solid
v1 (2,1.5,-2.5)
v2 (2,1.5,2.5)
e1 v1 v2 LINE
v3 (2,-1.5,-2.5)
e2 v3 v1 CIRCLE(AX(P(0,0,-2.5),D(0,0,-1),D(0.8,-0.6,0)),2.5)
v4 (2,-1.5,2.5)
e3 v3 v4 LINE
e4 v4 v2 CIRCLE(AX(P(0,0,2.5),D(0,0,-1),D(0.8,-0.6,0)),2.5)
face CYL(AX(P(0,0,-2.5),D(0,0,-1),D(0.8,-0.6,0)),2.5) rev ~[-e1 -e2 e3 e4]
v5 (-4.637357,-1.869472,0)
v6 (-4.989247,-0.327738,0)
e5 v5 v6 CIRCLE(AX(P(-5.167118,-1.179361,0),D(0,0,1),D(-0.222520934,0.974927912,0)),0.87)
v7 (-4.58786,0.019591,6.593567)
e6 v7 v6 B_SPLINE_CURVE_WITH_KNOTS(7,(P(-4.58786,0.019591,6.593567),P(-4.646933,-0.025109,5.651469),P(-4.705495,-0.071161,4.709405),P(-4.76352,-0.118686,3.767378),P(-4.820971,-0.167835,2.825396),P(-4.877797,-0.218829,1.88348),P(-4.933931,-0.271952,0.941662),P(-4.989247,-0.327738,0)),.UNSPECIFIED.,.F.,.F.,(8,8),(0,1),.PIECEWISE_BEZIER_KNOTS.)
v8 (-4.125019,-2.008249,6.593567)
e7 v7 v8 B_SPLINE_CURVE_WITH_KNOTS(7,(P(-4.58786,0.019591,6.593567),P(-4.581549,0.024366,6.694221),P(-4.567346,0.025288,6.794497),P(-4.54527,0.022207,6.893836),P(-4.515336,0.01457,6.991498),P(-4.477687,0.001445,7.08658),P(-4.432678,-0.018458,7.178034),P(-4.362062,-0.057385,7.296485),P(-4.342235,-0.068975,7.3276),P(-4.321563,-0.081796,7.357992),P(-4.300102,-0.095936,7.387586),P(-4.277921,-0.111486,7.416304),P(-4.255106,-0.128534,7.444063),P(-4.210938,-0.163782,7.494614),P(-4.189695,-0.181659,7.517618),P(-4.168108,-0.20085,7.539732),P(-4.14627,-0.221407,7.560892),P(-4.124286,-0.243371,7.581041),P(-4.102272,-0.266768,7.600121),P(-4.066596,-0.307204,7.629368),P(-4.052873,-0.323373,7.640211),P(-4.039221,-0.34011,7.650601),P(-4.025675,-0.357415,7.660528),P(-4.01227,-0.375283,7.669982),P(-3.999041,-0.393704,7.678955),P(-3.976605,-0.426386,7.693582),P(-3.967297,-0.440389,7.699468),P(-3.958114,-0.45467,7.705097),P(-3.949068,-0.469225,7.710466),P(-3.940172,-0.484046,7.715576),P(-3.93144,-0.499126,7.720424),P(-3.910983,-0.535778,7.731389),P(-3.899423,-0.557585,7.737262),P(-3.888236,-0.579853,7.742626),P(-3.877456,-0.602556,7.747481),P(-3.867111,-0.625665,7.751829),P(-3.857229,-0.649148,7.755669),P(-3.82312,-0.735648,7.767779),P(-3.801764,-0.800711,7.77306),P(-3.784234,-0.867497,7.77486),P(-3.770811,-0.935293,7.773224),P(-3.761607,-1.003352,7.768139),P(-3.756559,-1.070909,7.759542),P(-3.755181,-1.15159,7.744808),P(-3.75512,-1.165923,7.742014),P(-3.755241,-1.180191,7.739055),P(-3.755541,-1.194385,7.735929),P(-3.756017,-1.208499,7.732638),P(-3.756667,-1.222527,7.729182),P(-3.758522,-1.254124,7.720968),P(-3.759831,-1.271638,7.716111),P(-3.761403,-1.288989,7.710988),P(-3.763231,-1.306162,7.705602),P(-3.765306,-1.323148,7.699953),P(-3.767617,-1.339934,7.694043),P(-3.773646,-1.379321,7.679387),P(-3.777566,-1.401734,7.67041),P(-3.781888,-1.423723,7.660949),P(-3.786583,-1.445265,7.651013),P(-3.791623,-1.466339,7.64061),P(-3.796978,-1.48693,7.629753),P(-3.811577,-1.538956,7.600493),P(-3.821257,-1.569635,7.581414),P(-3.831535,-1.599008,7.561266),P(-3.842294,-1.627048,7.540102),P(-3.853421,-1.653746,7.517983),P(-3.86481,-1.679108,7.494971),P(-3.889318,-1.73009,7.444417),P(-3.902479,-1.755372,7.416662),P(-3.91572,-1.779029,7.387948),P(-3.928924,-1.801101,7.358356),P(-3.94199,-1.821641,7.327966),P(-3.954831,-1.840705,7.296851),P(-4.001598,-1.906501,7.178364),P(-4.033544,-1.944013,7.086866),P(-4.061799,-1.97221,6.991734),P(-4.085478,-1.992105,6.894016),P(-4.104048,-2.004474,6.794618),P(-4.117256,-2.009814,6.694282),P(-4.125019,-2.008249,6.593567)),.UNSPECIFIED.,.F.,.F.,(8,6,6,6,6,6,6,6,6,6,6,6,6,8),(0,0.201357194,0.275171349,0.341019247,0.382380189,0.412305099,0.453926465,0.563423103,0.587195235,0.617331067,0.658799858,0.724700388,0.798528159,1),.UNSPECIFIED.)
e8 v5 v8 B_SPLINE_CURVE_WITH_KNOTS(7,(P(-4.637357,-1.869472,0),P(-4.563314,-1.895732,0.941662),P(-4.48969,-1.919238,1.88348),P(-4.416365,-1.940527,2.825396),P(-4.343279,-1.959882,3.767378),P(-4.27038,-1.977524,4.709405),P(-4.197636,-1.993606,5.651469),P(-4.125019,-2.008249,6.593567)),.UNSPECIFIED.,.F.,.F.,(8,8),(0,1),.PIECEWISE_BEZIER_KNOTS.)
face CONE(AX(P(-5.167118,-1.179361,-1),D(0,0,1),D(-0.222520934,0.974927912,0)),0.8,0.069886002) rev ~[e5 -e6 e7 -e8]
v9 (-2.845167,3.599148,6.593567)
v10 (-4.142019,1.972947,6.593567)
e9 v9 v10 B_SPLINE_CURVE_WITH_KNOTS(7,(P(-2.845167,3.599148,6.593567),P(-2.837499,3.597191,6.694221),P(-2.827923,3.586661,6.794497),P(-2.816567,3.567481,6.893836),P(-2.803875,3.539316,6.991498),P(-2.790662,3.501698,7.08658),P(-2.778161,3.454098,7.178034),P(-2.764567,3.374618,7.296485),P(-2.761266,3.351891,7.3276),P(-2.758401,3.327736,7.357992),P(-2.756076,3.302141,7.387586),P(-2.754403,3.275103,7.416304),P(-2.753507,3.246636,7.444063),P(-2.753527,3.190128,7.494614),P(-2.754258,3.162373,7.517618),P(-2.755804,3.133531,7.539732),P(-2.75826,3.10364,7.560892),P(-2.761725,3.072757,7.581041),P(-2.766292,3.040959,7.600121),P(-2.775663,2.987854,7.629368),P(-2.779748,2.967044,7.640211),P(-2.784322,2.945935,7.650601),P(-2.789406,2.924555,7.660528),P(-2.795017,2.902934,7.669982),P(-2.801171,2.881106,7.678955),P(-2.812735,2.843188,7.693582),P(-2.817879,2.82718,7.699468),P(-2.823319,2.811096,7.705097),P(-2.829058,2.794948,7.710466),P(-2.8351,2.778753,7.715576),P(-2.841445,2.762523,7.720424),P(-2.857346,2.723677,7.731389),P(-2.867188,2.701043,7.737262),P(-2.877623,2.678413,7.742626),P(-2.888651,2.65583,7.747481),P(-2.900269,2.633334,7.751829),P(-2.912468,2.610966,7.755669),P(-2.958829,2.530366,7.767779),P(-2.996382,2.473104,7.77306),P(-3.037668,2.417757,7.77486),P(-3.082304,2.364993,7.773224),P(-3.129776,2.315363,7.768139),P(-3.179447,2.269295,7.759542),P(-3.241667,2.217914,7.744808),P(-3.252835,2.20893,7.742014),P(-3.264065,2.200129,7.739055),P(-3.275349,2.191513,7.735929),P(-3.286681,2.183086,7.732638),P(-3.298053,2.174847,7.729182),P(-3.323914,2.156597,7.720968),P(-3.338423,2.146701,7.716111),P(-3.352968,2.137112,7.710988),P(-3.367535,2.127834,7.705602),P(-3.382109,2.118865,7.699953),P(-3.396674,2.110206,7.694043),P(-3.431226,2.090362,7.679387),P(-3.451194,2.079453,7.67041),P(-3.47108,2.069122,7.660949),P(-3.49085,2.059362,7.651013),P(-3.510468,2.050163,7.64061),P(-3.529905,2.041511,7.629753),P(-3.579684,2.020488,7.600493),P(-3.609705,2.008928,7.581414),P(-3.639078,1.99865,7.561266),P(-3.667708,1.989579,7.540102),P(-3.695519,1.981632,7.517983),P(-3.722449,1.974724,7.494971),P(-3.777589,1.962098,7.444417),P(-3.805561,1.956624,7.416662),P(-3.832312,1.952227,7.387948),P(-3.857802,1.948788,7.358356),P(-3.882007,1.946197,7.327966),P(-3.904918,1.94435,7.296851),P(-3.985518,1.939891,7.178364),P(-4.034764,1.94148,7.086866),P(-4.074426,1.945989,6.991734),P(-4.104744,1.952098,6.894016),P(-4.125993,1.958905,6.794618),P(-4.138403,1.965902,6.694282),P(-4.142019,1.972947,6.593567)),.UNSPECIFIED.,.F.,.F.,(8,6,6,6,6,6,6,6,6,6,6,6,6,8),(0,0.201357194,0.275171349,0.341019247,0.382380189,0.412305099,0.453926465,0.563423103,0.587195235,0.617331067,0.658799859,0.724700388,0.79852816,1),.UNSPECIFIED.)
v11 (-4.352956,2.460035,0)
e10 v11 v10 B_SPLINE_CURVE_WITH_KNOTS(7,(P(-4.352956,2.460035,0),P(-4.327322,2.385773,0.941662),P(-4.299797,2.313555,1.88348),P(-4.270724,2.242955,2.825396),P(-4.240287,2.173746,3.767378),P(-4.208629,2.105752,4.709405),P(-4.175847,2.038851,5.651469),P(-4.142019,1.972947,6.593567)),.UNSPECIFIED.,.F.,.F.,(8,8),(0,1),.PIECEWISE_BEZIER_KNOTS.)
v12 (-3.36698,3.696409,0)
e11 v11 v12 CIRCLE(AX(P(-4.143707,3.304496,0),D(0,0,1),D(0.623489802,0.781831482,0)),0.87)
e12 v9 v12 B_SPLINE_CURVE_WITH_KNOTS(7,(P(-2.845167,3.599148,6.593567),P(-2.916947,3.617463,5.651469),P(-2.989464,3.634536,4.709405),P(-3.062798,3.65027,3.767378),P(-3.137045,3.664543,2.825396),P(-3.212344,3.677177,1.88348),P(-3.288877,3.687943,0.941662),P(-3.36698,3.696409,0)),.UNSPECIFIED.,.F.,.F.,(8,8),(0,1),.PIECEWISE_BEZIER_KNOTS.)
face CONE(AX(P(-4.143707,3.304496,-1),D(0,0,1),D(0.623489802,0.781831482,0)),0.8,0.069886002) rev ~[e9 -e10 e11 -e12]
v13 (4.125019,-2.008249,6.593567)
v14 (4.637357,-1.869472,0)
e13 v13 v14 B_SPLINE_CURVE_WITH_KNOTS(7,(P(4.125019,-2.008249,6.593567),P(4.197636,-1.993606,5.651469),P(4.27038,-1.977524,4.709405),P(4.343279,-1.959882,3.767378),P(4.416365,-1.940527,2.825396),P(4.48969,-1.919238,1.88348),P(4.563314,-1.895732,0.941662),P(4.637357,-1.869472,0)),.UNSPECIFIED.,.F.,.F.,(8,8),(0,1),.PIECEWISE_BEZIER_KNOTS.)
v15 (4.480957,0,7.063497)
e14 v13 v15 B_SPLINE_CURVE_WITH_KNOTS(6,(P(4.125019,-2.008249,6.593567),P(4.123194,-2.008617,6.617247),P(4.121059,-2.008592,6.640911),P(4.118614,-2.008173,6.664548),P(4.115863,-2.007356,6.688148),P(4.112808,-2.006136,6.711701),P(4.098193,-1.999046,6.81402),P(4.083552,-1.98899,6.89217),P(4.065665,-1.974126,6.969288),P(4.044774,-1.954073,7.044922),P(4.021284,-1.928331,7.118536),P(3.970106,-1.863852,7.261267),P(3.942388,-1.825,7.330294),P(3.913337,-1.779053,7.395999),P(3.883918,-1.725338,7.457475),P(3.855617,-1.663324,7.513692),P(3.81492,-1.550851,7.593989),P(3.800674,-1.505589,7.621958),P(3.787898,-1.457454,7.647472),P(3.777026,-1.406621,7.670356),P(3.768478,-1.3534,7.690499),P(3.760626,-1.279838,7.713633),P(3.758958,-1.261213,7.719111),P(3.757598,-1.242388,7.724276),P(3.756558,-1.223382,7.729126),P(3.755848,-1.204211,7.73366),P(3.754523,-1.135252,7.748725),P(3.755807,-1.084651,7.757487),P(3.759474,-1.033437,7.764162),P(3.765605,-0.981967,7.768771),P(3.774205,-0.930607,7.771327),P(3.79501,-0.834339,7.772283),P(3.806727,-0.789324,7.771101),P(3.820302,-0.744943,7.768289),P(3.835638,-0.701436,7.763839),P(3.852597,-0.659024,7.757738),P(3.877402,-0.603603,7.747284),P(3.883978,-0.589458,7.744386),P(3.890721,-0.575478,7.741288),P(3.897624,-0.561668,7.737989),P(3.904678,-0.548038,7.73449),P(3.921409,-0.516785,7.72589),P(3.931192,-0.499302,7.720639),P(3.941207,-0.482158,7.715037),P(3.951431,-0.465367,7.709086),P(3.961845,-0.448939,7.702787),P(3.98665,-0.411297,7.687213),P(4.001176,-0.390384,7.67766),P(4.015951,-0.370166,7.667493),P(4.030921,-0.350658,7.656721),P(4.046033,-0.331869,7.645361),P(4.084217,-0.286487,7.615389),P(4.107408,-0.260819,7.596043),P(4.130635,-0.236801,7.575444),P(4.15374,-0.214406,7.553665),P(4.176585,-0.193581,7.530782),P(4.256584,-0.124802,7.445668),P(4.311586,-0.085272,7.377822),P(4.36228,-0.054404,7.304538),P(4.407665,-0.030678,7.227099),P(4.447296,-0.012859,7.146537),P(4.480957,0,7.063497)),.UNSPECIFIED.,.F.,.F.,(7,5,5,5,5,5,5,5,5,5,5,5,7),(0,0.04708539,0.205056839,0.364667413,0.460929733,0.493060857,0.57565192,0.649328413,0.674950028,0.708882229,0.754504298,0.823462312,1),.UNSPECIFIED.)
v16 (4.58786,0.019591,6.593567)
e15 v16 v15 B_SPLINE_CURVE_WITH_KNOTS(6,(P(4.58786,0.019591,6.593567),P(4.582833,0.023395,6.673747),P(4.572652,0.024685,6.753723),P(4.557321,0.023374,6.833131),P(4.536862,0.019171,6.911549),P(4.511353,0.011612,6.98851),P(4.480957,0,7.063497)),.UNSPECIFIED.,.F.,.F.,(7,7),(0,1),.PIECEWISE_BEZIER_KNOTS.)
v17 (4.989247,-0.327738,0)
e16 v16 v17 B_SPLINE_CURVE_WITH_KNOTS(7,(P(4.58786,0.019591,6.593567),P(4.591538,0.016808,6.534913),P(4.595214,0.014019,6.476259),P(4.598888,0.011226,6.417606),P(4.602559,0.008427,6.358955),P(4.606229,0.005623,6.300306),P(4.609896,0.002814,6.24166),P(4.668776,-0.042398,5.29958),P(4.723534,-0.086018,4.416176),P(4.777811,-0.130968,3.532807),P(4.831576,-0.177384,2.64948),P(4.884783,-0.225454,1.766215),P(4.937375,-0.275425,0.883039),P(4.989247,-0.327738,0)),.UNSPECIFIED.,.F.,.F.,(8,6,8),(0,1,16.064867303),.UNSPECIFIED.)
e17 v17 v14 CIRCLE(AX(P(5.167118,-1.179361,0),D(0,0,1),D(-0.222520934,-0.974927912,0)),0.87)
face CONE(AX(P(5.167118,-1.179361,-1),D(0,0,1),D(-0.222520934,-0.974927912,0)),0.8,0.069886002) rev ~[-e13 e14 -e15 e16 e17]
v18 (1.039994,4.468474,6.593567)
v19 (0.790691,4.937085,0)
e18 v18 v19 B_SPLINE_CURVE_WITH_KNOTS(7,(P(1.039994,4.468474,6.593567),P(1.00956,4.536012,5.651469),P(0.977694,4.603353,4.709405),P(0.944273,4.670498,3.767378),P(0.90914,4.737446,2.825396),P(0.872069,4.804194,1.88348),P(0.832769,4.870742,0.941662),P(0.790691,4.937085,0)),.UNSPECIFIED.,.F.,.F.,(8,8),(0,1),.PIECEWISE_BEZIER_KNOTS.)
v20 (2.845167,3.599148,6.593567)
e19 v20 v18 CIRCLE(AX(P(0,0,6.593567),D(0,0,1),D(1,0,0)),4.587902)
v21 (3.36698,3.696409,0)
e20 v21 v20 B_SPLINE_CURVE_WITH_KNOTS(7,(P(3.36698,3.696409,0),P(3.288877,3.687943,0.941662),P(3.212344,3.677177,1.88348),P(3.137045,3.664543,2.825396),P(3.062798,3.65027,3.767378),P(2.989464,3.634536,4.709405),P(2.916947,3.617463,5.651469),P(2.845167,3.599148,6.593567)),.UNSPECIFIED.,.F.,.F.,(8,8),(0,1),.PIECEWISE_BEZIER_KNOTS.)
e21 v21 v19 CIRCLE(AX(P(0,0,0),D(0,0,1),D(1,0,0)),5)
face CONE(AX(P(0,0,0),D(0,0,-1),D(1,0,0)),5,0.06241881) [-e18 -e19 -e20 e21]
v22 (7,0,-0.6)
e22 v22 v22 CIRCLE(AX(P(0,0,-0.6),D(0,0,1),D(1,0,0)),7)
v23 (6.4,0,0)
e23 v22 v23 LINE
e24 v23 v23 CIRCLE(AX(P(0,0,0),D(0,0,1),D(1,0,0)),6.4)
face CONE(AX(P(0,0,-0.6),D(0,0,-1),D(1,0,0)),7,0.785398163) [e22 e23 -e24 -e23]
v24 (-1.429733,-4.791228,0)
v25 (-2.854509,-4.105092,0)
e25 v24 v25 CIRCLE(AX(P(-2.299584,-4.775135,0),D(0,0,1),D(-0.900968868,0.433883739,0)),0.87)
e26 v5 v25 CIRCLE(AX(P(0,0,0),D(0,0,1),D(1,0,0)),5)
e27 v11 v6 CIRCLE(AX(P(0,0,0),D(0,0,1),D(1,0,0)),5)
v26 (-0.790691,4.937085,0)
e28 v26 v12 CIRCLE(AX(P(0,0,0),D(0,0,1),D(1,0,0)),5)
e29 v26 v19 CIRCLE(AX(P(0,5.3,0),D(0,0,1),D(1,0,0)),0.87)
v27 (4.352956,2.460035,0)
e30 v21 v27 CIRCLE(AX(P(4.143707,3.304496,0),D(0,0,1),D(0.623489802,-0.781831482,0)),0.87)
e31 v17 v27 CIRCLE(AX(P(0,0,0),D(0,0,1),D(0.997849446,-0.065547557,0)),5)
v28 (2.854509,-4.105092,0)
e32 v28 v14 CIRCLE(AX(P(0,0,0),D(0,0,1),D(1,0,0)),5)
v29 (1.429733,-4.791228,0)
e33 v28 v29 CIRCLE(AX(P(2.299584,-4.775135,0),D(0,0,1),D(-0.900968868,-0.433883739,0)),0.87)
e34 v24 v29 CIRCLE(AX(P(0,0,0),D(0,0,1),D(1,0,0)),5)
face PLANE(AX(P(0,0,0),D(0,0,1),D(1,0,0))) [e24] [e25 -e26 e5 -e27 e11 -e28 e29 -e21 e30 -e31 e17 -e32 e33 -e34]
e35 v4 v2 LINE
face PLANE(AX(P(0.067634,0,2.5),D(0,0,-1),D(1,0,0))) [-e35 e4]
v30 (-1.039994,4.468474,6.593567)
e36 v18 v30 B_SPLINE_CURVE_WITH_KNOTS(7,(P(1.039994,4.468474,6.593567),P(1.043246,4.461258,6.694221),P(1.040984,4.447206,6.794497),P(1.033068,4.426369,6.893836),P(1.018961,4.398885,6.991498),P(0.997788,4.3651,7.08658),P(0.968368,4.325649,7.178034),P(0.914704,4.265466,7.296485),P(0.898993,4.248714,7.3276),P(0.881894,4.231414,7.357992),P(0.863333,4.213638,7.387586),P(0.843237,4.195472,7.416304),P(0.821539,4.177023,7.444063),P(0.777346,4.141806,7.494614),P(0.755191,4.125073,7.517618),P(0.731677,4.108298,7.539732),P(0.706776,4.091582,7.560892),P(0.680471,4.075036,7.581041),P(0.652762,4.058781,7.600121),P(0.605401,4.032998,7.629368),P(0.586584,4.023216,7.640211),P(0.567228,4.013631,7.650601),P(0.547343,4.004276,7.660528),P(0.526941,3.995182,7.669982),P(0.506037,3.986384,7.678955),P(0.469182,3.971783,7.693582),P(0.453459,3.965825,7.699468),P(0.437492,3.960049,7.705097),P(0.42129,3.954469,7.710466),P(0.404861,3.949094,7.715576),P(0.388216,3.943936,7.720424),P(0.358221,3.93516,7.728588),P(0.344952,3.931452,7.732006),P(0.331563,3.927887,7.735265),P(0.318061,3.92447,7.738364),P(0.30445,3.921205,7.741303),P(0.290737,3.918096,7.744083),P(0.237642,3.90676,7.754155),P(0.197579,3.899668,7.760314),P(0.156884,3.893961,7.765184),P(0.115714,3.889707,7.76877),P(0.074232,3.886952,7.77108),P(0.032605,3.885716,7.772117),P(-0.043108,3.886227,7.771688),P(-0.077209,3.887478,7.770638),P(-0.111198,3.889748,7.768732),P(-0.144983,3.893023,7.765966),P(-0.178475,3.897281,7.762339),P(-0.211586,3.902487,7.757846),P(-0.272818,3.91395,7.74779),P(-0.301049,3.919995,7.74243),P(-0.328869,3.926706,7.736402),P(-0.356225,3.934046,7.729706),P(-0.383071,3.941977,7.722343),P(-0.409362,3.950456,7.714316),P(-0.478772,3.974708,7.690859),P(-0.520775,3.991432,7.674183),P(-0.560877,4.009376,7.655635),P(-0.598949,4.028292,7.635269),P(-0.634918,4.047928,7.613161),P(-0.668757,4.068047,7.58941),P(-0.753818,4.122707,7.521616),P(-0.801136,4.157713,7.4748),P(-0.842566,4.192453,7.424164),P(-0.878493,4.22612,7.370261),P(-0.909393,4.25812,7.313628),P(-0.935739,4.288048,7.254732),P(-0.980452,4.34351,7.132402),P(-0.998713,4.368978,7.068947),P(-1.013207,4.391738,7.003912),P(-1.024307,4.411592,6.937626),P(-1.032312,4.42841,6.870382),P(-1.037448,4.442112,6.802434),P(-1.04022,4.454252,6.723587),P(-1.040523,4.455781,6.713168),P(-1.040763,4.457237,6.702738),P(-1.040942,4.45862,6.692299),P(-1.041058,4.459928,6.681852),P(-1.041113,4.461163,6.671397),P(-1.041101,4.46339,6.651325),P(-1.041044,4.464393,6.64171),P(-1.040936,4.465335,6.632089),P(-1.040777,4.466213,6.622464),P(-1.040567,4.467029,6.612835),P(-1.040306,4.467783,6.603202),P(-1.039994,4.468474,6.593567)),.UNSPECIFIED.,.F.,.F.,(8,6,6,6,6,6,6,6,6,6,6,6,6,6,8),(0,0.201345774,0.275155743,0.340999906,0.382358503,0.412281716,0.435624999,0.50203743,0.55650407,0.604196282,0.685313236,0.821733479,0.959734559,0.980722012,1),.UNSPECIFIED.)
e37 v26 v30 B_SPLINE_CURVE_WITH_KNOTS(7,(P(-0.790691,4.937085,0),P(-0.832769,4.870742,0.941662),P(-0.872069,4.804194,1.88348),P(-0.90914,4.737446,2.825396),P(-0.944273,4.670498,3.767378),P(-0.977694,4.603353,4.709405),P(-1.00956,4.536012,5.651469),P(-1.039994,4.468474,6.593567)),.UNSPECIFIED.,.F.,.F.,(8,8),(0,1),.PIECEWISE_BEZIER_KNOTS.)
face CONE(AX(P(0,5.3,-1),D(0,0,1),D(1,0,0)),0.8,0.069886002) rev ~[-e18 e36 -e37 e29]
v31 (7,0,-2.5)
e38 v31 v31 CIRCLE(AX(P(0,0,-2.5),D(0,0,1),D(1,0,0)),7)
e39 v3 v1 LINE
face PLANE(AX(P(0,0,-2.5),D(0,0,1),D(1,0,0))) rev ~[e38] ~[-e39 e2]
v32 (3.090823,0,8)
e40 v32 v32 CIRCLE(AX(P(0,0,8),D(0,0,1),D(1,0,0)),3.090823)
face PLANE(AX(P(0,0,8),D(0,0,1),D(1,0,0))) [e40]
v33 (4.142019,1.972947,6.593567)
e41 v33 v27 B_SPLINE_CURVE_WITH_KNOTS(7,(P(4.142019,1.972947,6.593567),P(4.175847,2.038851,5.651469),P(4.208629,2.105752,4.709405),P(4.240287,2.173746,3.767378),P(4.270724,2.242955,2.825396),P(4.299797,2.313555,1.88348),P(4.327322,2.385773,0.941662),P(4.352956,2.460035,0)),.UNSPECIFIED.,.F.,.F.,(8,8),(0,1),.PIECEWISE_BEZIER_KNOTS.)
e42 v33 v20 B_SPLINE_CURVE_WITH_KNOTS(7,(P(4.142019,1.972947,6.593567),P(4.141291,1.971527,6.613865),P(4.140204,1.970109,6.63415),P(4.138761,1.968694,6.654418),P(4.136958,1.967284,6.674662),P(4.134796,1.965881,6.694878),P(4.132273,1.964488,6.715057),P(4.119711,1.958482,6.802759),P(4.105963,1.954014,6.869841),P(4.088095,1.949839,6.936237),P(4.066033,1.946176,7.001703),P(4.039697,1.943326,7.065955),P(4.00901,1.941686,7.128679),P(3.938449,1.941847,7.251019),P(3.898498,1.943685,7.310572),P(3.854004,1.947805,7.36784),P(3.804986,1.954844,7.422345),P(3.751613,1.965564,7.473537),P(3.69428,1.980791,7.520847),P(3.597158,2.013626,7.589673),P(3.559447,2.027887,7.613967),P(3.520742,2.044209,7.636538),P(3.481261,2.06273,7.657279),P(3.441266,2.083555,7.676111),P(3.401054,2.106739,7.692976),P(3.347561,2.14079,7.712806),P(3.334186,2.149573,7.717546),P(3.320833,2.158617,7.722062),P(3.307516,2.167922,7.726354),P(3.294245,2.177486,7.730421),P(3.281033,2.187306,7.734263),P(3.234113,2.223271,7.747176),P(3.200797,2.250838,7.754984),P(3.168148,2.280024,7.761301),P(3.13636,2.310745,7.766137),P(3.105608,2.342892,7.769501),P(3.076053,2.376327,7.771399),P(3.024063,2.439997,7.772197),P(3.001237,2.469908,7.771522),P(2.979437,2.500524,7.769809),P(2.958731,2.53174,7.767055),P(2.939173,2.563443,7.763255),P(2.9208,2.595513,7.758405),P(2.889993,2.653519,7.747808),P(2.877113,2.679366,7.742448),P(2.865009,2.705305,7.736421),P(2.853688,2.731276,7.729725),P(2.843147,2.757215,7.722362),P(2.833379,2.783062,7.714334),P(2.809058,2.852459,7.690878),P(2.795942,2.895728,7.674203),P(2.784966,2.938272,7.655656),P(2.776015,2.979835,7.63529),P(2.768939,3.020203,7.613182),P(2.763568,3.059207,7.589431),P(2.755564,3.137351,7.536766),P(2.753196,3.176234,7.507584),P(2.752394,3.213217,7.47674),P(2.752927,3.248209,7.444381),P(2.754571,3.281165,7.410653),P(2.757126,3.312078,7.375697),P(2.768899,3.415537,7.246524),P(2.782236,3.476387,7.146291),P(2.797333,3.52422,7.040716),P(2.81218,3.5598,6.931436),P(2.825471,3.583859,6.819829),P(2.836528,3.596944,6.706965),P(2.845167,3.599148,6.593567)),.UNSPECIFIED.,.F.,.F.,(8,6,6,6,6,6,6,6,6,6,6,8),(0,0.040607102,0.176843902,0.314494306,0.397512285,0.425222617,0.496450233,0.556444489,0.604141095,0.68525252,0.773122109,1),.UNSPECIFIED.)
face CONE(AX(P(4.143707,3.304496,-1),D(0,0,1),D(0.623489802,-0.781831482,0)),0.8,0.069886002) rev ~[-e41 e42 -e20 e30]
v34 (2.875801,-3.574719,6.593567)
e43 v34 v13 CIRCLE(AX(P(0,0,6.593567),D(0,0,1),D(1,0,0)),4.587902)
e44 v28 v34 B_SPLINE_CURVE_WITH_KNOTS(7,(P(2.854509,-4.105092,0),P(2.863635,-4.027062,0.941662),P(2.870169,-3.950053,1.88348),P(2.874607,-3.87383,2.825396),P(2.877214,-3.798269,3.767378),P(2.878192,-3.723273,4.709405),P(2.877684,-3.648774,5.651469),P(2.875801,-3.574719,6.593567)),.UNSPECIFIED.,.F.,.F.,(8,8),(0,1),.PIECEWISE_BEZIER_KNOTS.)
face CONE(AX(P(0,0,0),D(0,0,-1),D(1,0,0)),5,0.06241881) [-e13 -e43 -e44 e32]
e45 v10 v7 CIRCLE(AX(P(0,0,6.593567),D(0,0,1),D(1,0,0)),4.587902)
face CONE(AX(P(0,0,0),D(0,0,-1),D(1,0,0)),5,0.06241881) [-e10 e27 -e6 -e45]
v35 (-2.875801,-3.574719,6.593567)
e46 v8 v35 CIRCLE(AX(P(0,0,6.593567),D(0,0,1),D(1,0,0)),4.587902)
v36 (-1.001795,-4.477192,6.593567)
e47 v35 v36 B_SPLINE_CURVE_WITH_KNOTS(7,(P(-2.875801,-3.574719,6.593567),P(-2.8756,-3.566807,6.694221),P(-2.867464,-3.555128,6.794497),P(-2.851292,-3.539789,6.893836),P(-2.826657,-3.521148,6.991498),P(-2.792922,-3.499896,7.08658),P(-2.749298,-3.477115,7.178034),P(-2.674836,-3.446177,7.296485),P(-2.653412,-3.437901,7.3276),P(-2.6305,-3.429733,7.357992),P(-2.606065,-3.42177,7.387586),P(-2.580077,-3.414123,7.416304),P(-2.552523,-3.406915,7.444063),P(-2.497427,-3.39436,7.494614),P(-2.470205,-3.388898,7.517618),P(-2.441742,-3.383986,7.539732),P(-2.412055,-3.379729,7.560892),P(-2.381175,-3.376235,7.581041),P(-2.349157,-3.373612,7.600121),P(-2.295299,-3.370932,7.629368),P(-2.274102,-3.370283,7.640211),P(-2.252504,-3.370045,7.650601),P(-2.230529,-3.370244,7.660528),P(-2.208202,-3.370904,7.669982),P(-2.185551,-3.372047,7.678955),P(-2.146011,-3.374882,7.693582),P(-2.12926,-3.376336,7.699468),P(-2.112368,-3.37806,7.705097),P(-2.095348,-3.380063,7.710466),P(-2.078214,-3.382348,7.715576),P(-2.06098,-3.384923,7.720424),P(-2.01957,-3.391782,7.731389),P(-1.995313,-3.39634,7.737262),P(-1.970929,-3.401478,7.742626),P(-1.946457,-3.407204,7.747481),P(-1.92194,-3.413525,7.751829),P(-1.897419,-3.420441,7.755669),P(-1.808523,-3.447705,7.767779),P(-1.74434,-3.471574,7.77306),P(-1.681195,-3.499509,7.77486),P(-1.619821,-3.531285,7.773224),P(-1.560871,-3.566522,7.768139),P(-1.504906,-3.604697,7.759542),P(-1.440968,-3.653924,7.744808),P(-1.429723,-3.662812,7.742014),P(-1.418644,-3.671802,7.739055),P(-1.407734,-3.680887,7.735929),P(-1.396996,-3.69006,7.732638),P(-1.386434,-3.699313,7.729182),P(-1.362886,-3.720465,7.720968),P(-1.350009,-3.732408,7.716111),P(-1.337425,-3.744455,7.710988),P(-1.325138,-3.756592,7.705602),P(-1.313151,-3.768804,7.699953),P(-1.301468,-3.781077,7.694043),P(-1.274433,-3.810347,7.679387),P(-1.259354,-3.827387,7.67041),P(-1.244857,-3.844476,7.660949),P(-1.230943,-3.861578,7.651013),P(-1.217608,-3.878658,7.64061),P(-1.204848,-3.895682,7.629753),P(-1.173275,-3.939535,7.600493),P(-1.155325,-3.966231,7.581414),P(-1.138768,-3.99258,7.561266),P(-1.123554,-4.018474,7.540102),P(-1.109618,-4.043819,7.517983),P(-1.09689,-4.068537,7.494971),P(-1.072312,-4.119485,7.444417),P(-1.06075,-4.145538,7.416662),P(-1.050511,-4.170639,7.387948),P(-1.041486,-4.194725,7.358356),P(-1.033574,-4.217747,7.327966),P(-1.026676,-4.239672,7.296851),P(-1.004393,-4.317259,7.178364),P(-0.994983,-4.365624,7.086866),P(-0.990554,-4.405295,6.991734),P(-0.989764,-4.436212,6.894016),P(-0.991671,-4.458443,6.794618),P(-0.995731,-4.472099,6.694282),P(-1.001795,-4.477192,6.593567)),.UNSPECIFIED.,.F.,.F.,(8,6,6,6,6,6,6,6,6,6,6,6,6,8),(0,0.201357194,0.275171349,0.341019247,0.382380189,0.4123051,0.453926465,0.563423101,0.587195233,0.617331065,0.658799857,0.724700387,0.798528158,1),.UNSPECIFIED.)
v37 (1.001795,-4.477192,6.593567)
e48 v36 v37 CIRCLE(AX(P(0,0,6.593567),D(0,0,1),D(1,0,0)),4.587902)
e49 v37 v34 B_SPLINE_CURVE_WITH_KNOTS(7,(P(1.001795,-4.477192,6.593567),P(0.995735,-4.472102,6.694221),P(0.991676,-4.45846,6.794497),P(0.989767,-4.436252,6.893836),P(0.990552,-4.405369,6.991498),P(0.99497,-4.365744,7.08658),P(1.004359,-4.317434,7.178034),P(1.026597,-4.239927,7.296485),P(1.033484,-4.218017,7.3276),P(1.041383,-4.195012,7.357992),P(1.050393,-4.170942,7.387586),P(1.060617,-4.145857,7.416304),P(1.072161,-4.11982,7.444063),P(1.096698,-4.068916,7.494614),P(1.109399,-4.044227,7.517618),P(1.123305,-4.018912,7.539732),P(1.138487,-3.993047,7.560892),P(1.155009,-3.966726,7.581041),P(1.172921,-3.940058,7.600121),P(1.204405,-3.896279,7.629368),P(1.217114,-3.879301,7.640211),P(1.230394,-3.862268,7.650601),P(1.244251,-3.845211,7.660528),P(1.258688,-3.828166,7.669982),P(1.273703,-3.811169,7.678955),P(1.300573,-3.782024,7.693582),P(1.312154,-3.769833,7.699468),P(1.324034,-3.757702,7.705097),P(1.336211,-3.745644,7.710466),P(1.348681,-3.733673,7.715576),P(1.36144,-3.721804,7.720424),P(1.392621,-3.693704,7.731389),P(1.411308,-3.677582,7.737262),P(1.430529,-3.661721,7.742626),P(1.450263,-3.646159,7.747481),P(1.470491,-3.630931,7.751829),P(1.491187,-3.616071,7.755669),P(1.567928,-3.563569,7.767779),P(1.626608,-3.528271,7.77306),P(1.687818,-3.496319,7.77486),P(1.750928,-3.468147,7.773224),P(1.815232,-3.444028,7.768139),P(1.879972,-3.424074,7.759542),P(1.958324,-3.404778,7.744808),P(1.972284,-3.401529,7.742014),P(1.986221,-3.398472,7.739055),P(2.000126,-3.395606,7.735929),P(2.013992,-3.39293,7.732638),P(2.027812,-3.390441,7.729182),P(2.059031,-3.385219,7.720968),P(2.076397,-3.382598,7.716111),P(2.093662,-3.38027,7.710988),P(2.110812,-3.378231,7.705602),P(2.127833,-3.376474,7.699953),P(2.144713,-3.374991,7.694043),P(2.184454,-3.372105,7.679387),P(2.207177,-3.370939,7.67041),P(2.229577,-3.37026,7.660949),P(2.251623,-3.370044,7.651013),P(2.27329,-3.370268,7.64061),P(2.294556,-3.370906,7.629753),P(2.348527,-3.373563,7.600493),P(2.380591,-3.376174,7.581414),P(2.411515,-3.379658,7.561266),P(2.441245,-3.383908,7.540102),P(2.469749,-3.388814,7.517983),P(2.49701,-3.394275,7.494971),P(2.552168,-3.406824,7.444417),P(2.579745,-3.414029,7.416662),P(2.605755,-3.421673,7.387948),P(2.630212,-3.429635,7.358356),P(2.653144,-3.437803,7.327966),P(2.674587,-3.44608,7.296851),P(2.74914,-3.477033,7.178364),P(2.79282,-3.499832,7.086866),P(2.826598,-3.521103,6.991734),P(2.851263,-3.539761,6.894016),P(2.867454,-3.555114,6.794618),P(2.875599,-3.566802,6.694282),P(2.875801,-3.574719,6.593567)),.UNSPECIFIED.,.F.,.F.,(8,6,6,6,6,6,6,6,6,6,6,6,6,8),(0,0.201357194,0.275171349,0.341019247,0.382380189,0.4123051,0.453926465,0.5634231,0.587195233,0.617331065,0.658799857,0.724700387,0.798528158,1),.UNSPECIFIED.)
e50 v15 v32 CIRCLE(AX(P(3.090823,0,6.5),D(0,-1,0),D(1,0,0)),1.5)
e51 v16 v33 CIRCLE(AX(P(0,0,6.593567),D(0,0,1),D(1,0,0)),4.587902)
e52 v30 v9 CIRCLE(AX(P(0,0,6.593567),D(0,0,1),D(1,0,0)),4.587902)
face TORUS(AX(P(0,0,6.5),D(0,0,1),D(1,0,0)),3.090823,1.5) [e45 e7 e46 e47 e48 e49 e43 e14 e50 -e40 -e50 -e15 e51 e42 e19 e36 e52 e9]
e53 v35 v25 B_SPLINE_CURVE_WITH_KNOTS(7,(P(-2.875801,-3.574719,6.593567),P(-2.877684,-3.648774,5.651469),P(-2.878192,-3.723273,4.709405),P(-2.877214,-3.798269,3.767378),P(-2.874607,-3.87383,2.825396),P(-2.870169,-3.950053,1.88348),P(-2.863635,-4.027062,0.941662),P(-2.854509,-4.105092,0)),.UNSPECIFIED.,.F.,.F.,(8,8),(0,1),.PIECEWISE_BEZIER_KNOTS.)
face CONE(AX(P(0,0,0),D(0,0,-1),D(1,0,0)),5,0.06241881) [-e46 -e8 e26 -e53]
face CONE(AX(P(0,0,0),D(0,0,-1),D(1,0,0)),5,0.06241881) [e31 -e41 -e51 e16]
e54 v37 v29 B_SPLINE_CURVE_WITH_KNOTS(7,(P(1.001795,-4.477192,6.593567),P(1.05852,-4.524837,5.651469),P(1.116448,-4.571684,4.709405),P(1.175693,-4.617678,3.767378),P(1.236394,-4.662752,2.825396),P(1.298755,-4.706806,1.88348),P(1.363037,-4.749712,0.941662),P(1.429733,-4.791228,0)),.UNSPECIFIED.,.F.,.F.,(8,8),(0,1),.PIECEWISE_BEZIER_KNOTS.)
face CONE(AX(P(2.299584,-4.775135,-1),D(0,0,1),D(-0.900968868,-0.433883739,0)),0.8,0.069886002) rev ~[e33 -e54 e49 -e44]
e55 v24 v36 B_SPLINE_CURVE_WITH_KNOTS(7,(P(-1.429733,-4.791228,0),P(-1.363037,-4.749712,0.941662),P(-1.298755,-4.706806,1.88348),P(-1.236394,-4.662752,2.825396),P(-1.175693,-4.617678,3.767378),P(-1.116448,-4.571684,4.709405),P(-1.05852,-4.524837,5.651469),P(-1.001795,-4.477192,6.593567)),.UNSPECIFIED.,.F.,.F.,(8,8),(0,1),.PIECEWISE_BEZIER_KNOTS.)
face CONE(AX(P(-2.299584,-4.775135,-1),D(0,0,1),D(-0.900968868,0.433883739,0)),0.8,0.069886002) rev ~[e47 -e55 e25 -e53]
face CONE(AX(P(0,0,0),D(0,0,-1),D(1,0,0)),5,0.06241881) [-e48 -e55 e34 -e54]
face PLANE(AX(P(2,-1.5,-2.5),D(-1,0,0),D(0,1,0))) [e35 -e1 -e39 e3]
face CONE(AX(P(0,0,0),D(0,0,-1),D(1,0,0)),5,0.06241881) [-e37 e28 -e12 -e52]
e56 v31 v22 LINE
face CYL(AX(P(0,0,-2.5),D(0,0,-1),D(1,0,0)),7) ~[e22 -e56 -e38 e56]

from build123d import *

# Parameters (mm, degrees)
CYLINDER_R     = 7
CYLINDER_DEPTH = 2.5
CHAMFER_SIZE   = 0.6
ARRAY_COUNT    = 7
FILLET_R       = 1.5
POCKET_DEPTH   = 5


with BuildPart() as chamfer_body:
    # Cylinder → Cylinder (new body)
    with BuildSketch(Plane.XY.offset(-2.5)):
        Circle(CYLINDER_R)
    extrude(amount=CYLINDER_DEPTH)

    # Chamfer
    chamfer_edges = [chamfer_body.edges().sort_by_distance(p)[0] for p in [
        (-7, 0, 0),
    ]]
    chamfer(chamfer_edges, length=CHAMFER_SIZE)


with BuildPart() as array:
    # Cone001 → Cone001 (revolve)
    with BuildSketch(Plane(origin=(0, 5.3, -1), x_dir=(1, 0, 0), z_dir=(0, -1, 0))):
        Polygon((0, 0), (0.8, 0), (1.5, 10), (0, 10), align=None)
    revolve(axis=Axis((0, 5.3, -1), (0, 0, 1)))

    # Array: Array ×7 about axis
    array_axis = Axis((0, 0, 0), (0, 0, 1))


with BuildPart() as array_1:
    add(array.part)
    for i in range(1, ARRAY_COUNT):
        add(array.part.rotate(array_axis, i * 360 / ARRAY_COUNT))


with BuildPart() as pocket:
    # Cone → Cone (revolve)
    with BuildSketch(Plane.XZ):
        Polygon((0, 0), (5, 0), (4.5, 8), (0, 8), align=None)
    revolve(axis=Axis((0, 0, 0), (0, 0, 1)))

    # Fillet
    fillet_edges = [pocket.edges().sort_by_distance(p)[0] for p in [
        (-4.5, 0, 8),
    ]]
    fillet(fillet_edges, radius=FILLET_R)

    # Cut: cut Array
    add(array_1.part, mode=Mode.SUBTRACT)

    # Fusion: union Chamfer body
    add(chamfer_body.part)

    # Sketch → Pocket (cut)
    with BuildSketch(Plane(origin=(0, 0, -2.5), x_dir=(1, 0, 0), z_dir=(0, 0, -1))):
        with BuildLine():
            ThreePointArc((2, 1.5), (-2.5, 0), (2, -1.5))
            Line((2, 1.5), (2, -1.5))
        make_face()
    extrude(amount=-POCKET_DEPTH, mode=Mode.SUBTRACT)


solid = pocket.part
